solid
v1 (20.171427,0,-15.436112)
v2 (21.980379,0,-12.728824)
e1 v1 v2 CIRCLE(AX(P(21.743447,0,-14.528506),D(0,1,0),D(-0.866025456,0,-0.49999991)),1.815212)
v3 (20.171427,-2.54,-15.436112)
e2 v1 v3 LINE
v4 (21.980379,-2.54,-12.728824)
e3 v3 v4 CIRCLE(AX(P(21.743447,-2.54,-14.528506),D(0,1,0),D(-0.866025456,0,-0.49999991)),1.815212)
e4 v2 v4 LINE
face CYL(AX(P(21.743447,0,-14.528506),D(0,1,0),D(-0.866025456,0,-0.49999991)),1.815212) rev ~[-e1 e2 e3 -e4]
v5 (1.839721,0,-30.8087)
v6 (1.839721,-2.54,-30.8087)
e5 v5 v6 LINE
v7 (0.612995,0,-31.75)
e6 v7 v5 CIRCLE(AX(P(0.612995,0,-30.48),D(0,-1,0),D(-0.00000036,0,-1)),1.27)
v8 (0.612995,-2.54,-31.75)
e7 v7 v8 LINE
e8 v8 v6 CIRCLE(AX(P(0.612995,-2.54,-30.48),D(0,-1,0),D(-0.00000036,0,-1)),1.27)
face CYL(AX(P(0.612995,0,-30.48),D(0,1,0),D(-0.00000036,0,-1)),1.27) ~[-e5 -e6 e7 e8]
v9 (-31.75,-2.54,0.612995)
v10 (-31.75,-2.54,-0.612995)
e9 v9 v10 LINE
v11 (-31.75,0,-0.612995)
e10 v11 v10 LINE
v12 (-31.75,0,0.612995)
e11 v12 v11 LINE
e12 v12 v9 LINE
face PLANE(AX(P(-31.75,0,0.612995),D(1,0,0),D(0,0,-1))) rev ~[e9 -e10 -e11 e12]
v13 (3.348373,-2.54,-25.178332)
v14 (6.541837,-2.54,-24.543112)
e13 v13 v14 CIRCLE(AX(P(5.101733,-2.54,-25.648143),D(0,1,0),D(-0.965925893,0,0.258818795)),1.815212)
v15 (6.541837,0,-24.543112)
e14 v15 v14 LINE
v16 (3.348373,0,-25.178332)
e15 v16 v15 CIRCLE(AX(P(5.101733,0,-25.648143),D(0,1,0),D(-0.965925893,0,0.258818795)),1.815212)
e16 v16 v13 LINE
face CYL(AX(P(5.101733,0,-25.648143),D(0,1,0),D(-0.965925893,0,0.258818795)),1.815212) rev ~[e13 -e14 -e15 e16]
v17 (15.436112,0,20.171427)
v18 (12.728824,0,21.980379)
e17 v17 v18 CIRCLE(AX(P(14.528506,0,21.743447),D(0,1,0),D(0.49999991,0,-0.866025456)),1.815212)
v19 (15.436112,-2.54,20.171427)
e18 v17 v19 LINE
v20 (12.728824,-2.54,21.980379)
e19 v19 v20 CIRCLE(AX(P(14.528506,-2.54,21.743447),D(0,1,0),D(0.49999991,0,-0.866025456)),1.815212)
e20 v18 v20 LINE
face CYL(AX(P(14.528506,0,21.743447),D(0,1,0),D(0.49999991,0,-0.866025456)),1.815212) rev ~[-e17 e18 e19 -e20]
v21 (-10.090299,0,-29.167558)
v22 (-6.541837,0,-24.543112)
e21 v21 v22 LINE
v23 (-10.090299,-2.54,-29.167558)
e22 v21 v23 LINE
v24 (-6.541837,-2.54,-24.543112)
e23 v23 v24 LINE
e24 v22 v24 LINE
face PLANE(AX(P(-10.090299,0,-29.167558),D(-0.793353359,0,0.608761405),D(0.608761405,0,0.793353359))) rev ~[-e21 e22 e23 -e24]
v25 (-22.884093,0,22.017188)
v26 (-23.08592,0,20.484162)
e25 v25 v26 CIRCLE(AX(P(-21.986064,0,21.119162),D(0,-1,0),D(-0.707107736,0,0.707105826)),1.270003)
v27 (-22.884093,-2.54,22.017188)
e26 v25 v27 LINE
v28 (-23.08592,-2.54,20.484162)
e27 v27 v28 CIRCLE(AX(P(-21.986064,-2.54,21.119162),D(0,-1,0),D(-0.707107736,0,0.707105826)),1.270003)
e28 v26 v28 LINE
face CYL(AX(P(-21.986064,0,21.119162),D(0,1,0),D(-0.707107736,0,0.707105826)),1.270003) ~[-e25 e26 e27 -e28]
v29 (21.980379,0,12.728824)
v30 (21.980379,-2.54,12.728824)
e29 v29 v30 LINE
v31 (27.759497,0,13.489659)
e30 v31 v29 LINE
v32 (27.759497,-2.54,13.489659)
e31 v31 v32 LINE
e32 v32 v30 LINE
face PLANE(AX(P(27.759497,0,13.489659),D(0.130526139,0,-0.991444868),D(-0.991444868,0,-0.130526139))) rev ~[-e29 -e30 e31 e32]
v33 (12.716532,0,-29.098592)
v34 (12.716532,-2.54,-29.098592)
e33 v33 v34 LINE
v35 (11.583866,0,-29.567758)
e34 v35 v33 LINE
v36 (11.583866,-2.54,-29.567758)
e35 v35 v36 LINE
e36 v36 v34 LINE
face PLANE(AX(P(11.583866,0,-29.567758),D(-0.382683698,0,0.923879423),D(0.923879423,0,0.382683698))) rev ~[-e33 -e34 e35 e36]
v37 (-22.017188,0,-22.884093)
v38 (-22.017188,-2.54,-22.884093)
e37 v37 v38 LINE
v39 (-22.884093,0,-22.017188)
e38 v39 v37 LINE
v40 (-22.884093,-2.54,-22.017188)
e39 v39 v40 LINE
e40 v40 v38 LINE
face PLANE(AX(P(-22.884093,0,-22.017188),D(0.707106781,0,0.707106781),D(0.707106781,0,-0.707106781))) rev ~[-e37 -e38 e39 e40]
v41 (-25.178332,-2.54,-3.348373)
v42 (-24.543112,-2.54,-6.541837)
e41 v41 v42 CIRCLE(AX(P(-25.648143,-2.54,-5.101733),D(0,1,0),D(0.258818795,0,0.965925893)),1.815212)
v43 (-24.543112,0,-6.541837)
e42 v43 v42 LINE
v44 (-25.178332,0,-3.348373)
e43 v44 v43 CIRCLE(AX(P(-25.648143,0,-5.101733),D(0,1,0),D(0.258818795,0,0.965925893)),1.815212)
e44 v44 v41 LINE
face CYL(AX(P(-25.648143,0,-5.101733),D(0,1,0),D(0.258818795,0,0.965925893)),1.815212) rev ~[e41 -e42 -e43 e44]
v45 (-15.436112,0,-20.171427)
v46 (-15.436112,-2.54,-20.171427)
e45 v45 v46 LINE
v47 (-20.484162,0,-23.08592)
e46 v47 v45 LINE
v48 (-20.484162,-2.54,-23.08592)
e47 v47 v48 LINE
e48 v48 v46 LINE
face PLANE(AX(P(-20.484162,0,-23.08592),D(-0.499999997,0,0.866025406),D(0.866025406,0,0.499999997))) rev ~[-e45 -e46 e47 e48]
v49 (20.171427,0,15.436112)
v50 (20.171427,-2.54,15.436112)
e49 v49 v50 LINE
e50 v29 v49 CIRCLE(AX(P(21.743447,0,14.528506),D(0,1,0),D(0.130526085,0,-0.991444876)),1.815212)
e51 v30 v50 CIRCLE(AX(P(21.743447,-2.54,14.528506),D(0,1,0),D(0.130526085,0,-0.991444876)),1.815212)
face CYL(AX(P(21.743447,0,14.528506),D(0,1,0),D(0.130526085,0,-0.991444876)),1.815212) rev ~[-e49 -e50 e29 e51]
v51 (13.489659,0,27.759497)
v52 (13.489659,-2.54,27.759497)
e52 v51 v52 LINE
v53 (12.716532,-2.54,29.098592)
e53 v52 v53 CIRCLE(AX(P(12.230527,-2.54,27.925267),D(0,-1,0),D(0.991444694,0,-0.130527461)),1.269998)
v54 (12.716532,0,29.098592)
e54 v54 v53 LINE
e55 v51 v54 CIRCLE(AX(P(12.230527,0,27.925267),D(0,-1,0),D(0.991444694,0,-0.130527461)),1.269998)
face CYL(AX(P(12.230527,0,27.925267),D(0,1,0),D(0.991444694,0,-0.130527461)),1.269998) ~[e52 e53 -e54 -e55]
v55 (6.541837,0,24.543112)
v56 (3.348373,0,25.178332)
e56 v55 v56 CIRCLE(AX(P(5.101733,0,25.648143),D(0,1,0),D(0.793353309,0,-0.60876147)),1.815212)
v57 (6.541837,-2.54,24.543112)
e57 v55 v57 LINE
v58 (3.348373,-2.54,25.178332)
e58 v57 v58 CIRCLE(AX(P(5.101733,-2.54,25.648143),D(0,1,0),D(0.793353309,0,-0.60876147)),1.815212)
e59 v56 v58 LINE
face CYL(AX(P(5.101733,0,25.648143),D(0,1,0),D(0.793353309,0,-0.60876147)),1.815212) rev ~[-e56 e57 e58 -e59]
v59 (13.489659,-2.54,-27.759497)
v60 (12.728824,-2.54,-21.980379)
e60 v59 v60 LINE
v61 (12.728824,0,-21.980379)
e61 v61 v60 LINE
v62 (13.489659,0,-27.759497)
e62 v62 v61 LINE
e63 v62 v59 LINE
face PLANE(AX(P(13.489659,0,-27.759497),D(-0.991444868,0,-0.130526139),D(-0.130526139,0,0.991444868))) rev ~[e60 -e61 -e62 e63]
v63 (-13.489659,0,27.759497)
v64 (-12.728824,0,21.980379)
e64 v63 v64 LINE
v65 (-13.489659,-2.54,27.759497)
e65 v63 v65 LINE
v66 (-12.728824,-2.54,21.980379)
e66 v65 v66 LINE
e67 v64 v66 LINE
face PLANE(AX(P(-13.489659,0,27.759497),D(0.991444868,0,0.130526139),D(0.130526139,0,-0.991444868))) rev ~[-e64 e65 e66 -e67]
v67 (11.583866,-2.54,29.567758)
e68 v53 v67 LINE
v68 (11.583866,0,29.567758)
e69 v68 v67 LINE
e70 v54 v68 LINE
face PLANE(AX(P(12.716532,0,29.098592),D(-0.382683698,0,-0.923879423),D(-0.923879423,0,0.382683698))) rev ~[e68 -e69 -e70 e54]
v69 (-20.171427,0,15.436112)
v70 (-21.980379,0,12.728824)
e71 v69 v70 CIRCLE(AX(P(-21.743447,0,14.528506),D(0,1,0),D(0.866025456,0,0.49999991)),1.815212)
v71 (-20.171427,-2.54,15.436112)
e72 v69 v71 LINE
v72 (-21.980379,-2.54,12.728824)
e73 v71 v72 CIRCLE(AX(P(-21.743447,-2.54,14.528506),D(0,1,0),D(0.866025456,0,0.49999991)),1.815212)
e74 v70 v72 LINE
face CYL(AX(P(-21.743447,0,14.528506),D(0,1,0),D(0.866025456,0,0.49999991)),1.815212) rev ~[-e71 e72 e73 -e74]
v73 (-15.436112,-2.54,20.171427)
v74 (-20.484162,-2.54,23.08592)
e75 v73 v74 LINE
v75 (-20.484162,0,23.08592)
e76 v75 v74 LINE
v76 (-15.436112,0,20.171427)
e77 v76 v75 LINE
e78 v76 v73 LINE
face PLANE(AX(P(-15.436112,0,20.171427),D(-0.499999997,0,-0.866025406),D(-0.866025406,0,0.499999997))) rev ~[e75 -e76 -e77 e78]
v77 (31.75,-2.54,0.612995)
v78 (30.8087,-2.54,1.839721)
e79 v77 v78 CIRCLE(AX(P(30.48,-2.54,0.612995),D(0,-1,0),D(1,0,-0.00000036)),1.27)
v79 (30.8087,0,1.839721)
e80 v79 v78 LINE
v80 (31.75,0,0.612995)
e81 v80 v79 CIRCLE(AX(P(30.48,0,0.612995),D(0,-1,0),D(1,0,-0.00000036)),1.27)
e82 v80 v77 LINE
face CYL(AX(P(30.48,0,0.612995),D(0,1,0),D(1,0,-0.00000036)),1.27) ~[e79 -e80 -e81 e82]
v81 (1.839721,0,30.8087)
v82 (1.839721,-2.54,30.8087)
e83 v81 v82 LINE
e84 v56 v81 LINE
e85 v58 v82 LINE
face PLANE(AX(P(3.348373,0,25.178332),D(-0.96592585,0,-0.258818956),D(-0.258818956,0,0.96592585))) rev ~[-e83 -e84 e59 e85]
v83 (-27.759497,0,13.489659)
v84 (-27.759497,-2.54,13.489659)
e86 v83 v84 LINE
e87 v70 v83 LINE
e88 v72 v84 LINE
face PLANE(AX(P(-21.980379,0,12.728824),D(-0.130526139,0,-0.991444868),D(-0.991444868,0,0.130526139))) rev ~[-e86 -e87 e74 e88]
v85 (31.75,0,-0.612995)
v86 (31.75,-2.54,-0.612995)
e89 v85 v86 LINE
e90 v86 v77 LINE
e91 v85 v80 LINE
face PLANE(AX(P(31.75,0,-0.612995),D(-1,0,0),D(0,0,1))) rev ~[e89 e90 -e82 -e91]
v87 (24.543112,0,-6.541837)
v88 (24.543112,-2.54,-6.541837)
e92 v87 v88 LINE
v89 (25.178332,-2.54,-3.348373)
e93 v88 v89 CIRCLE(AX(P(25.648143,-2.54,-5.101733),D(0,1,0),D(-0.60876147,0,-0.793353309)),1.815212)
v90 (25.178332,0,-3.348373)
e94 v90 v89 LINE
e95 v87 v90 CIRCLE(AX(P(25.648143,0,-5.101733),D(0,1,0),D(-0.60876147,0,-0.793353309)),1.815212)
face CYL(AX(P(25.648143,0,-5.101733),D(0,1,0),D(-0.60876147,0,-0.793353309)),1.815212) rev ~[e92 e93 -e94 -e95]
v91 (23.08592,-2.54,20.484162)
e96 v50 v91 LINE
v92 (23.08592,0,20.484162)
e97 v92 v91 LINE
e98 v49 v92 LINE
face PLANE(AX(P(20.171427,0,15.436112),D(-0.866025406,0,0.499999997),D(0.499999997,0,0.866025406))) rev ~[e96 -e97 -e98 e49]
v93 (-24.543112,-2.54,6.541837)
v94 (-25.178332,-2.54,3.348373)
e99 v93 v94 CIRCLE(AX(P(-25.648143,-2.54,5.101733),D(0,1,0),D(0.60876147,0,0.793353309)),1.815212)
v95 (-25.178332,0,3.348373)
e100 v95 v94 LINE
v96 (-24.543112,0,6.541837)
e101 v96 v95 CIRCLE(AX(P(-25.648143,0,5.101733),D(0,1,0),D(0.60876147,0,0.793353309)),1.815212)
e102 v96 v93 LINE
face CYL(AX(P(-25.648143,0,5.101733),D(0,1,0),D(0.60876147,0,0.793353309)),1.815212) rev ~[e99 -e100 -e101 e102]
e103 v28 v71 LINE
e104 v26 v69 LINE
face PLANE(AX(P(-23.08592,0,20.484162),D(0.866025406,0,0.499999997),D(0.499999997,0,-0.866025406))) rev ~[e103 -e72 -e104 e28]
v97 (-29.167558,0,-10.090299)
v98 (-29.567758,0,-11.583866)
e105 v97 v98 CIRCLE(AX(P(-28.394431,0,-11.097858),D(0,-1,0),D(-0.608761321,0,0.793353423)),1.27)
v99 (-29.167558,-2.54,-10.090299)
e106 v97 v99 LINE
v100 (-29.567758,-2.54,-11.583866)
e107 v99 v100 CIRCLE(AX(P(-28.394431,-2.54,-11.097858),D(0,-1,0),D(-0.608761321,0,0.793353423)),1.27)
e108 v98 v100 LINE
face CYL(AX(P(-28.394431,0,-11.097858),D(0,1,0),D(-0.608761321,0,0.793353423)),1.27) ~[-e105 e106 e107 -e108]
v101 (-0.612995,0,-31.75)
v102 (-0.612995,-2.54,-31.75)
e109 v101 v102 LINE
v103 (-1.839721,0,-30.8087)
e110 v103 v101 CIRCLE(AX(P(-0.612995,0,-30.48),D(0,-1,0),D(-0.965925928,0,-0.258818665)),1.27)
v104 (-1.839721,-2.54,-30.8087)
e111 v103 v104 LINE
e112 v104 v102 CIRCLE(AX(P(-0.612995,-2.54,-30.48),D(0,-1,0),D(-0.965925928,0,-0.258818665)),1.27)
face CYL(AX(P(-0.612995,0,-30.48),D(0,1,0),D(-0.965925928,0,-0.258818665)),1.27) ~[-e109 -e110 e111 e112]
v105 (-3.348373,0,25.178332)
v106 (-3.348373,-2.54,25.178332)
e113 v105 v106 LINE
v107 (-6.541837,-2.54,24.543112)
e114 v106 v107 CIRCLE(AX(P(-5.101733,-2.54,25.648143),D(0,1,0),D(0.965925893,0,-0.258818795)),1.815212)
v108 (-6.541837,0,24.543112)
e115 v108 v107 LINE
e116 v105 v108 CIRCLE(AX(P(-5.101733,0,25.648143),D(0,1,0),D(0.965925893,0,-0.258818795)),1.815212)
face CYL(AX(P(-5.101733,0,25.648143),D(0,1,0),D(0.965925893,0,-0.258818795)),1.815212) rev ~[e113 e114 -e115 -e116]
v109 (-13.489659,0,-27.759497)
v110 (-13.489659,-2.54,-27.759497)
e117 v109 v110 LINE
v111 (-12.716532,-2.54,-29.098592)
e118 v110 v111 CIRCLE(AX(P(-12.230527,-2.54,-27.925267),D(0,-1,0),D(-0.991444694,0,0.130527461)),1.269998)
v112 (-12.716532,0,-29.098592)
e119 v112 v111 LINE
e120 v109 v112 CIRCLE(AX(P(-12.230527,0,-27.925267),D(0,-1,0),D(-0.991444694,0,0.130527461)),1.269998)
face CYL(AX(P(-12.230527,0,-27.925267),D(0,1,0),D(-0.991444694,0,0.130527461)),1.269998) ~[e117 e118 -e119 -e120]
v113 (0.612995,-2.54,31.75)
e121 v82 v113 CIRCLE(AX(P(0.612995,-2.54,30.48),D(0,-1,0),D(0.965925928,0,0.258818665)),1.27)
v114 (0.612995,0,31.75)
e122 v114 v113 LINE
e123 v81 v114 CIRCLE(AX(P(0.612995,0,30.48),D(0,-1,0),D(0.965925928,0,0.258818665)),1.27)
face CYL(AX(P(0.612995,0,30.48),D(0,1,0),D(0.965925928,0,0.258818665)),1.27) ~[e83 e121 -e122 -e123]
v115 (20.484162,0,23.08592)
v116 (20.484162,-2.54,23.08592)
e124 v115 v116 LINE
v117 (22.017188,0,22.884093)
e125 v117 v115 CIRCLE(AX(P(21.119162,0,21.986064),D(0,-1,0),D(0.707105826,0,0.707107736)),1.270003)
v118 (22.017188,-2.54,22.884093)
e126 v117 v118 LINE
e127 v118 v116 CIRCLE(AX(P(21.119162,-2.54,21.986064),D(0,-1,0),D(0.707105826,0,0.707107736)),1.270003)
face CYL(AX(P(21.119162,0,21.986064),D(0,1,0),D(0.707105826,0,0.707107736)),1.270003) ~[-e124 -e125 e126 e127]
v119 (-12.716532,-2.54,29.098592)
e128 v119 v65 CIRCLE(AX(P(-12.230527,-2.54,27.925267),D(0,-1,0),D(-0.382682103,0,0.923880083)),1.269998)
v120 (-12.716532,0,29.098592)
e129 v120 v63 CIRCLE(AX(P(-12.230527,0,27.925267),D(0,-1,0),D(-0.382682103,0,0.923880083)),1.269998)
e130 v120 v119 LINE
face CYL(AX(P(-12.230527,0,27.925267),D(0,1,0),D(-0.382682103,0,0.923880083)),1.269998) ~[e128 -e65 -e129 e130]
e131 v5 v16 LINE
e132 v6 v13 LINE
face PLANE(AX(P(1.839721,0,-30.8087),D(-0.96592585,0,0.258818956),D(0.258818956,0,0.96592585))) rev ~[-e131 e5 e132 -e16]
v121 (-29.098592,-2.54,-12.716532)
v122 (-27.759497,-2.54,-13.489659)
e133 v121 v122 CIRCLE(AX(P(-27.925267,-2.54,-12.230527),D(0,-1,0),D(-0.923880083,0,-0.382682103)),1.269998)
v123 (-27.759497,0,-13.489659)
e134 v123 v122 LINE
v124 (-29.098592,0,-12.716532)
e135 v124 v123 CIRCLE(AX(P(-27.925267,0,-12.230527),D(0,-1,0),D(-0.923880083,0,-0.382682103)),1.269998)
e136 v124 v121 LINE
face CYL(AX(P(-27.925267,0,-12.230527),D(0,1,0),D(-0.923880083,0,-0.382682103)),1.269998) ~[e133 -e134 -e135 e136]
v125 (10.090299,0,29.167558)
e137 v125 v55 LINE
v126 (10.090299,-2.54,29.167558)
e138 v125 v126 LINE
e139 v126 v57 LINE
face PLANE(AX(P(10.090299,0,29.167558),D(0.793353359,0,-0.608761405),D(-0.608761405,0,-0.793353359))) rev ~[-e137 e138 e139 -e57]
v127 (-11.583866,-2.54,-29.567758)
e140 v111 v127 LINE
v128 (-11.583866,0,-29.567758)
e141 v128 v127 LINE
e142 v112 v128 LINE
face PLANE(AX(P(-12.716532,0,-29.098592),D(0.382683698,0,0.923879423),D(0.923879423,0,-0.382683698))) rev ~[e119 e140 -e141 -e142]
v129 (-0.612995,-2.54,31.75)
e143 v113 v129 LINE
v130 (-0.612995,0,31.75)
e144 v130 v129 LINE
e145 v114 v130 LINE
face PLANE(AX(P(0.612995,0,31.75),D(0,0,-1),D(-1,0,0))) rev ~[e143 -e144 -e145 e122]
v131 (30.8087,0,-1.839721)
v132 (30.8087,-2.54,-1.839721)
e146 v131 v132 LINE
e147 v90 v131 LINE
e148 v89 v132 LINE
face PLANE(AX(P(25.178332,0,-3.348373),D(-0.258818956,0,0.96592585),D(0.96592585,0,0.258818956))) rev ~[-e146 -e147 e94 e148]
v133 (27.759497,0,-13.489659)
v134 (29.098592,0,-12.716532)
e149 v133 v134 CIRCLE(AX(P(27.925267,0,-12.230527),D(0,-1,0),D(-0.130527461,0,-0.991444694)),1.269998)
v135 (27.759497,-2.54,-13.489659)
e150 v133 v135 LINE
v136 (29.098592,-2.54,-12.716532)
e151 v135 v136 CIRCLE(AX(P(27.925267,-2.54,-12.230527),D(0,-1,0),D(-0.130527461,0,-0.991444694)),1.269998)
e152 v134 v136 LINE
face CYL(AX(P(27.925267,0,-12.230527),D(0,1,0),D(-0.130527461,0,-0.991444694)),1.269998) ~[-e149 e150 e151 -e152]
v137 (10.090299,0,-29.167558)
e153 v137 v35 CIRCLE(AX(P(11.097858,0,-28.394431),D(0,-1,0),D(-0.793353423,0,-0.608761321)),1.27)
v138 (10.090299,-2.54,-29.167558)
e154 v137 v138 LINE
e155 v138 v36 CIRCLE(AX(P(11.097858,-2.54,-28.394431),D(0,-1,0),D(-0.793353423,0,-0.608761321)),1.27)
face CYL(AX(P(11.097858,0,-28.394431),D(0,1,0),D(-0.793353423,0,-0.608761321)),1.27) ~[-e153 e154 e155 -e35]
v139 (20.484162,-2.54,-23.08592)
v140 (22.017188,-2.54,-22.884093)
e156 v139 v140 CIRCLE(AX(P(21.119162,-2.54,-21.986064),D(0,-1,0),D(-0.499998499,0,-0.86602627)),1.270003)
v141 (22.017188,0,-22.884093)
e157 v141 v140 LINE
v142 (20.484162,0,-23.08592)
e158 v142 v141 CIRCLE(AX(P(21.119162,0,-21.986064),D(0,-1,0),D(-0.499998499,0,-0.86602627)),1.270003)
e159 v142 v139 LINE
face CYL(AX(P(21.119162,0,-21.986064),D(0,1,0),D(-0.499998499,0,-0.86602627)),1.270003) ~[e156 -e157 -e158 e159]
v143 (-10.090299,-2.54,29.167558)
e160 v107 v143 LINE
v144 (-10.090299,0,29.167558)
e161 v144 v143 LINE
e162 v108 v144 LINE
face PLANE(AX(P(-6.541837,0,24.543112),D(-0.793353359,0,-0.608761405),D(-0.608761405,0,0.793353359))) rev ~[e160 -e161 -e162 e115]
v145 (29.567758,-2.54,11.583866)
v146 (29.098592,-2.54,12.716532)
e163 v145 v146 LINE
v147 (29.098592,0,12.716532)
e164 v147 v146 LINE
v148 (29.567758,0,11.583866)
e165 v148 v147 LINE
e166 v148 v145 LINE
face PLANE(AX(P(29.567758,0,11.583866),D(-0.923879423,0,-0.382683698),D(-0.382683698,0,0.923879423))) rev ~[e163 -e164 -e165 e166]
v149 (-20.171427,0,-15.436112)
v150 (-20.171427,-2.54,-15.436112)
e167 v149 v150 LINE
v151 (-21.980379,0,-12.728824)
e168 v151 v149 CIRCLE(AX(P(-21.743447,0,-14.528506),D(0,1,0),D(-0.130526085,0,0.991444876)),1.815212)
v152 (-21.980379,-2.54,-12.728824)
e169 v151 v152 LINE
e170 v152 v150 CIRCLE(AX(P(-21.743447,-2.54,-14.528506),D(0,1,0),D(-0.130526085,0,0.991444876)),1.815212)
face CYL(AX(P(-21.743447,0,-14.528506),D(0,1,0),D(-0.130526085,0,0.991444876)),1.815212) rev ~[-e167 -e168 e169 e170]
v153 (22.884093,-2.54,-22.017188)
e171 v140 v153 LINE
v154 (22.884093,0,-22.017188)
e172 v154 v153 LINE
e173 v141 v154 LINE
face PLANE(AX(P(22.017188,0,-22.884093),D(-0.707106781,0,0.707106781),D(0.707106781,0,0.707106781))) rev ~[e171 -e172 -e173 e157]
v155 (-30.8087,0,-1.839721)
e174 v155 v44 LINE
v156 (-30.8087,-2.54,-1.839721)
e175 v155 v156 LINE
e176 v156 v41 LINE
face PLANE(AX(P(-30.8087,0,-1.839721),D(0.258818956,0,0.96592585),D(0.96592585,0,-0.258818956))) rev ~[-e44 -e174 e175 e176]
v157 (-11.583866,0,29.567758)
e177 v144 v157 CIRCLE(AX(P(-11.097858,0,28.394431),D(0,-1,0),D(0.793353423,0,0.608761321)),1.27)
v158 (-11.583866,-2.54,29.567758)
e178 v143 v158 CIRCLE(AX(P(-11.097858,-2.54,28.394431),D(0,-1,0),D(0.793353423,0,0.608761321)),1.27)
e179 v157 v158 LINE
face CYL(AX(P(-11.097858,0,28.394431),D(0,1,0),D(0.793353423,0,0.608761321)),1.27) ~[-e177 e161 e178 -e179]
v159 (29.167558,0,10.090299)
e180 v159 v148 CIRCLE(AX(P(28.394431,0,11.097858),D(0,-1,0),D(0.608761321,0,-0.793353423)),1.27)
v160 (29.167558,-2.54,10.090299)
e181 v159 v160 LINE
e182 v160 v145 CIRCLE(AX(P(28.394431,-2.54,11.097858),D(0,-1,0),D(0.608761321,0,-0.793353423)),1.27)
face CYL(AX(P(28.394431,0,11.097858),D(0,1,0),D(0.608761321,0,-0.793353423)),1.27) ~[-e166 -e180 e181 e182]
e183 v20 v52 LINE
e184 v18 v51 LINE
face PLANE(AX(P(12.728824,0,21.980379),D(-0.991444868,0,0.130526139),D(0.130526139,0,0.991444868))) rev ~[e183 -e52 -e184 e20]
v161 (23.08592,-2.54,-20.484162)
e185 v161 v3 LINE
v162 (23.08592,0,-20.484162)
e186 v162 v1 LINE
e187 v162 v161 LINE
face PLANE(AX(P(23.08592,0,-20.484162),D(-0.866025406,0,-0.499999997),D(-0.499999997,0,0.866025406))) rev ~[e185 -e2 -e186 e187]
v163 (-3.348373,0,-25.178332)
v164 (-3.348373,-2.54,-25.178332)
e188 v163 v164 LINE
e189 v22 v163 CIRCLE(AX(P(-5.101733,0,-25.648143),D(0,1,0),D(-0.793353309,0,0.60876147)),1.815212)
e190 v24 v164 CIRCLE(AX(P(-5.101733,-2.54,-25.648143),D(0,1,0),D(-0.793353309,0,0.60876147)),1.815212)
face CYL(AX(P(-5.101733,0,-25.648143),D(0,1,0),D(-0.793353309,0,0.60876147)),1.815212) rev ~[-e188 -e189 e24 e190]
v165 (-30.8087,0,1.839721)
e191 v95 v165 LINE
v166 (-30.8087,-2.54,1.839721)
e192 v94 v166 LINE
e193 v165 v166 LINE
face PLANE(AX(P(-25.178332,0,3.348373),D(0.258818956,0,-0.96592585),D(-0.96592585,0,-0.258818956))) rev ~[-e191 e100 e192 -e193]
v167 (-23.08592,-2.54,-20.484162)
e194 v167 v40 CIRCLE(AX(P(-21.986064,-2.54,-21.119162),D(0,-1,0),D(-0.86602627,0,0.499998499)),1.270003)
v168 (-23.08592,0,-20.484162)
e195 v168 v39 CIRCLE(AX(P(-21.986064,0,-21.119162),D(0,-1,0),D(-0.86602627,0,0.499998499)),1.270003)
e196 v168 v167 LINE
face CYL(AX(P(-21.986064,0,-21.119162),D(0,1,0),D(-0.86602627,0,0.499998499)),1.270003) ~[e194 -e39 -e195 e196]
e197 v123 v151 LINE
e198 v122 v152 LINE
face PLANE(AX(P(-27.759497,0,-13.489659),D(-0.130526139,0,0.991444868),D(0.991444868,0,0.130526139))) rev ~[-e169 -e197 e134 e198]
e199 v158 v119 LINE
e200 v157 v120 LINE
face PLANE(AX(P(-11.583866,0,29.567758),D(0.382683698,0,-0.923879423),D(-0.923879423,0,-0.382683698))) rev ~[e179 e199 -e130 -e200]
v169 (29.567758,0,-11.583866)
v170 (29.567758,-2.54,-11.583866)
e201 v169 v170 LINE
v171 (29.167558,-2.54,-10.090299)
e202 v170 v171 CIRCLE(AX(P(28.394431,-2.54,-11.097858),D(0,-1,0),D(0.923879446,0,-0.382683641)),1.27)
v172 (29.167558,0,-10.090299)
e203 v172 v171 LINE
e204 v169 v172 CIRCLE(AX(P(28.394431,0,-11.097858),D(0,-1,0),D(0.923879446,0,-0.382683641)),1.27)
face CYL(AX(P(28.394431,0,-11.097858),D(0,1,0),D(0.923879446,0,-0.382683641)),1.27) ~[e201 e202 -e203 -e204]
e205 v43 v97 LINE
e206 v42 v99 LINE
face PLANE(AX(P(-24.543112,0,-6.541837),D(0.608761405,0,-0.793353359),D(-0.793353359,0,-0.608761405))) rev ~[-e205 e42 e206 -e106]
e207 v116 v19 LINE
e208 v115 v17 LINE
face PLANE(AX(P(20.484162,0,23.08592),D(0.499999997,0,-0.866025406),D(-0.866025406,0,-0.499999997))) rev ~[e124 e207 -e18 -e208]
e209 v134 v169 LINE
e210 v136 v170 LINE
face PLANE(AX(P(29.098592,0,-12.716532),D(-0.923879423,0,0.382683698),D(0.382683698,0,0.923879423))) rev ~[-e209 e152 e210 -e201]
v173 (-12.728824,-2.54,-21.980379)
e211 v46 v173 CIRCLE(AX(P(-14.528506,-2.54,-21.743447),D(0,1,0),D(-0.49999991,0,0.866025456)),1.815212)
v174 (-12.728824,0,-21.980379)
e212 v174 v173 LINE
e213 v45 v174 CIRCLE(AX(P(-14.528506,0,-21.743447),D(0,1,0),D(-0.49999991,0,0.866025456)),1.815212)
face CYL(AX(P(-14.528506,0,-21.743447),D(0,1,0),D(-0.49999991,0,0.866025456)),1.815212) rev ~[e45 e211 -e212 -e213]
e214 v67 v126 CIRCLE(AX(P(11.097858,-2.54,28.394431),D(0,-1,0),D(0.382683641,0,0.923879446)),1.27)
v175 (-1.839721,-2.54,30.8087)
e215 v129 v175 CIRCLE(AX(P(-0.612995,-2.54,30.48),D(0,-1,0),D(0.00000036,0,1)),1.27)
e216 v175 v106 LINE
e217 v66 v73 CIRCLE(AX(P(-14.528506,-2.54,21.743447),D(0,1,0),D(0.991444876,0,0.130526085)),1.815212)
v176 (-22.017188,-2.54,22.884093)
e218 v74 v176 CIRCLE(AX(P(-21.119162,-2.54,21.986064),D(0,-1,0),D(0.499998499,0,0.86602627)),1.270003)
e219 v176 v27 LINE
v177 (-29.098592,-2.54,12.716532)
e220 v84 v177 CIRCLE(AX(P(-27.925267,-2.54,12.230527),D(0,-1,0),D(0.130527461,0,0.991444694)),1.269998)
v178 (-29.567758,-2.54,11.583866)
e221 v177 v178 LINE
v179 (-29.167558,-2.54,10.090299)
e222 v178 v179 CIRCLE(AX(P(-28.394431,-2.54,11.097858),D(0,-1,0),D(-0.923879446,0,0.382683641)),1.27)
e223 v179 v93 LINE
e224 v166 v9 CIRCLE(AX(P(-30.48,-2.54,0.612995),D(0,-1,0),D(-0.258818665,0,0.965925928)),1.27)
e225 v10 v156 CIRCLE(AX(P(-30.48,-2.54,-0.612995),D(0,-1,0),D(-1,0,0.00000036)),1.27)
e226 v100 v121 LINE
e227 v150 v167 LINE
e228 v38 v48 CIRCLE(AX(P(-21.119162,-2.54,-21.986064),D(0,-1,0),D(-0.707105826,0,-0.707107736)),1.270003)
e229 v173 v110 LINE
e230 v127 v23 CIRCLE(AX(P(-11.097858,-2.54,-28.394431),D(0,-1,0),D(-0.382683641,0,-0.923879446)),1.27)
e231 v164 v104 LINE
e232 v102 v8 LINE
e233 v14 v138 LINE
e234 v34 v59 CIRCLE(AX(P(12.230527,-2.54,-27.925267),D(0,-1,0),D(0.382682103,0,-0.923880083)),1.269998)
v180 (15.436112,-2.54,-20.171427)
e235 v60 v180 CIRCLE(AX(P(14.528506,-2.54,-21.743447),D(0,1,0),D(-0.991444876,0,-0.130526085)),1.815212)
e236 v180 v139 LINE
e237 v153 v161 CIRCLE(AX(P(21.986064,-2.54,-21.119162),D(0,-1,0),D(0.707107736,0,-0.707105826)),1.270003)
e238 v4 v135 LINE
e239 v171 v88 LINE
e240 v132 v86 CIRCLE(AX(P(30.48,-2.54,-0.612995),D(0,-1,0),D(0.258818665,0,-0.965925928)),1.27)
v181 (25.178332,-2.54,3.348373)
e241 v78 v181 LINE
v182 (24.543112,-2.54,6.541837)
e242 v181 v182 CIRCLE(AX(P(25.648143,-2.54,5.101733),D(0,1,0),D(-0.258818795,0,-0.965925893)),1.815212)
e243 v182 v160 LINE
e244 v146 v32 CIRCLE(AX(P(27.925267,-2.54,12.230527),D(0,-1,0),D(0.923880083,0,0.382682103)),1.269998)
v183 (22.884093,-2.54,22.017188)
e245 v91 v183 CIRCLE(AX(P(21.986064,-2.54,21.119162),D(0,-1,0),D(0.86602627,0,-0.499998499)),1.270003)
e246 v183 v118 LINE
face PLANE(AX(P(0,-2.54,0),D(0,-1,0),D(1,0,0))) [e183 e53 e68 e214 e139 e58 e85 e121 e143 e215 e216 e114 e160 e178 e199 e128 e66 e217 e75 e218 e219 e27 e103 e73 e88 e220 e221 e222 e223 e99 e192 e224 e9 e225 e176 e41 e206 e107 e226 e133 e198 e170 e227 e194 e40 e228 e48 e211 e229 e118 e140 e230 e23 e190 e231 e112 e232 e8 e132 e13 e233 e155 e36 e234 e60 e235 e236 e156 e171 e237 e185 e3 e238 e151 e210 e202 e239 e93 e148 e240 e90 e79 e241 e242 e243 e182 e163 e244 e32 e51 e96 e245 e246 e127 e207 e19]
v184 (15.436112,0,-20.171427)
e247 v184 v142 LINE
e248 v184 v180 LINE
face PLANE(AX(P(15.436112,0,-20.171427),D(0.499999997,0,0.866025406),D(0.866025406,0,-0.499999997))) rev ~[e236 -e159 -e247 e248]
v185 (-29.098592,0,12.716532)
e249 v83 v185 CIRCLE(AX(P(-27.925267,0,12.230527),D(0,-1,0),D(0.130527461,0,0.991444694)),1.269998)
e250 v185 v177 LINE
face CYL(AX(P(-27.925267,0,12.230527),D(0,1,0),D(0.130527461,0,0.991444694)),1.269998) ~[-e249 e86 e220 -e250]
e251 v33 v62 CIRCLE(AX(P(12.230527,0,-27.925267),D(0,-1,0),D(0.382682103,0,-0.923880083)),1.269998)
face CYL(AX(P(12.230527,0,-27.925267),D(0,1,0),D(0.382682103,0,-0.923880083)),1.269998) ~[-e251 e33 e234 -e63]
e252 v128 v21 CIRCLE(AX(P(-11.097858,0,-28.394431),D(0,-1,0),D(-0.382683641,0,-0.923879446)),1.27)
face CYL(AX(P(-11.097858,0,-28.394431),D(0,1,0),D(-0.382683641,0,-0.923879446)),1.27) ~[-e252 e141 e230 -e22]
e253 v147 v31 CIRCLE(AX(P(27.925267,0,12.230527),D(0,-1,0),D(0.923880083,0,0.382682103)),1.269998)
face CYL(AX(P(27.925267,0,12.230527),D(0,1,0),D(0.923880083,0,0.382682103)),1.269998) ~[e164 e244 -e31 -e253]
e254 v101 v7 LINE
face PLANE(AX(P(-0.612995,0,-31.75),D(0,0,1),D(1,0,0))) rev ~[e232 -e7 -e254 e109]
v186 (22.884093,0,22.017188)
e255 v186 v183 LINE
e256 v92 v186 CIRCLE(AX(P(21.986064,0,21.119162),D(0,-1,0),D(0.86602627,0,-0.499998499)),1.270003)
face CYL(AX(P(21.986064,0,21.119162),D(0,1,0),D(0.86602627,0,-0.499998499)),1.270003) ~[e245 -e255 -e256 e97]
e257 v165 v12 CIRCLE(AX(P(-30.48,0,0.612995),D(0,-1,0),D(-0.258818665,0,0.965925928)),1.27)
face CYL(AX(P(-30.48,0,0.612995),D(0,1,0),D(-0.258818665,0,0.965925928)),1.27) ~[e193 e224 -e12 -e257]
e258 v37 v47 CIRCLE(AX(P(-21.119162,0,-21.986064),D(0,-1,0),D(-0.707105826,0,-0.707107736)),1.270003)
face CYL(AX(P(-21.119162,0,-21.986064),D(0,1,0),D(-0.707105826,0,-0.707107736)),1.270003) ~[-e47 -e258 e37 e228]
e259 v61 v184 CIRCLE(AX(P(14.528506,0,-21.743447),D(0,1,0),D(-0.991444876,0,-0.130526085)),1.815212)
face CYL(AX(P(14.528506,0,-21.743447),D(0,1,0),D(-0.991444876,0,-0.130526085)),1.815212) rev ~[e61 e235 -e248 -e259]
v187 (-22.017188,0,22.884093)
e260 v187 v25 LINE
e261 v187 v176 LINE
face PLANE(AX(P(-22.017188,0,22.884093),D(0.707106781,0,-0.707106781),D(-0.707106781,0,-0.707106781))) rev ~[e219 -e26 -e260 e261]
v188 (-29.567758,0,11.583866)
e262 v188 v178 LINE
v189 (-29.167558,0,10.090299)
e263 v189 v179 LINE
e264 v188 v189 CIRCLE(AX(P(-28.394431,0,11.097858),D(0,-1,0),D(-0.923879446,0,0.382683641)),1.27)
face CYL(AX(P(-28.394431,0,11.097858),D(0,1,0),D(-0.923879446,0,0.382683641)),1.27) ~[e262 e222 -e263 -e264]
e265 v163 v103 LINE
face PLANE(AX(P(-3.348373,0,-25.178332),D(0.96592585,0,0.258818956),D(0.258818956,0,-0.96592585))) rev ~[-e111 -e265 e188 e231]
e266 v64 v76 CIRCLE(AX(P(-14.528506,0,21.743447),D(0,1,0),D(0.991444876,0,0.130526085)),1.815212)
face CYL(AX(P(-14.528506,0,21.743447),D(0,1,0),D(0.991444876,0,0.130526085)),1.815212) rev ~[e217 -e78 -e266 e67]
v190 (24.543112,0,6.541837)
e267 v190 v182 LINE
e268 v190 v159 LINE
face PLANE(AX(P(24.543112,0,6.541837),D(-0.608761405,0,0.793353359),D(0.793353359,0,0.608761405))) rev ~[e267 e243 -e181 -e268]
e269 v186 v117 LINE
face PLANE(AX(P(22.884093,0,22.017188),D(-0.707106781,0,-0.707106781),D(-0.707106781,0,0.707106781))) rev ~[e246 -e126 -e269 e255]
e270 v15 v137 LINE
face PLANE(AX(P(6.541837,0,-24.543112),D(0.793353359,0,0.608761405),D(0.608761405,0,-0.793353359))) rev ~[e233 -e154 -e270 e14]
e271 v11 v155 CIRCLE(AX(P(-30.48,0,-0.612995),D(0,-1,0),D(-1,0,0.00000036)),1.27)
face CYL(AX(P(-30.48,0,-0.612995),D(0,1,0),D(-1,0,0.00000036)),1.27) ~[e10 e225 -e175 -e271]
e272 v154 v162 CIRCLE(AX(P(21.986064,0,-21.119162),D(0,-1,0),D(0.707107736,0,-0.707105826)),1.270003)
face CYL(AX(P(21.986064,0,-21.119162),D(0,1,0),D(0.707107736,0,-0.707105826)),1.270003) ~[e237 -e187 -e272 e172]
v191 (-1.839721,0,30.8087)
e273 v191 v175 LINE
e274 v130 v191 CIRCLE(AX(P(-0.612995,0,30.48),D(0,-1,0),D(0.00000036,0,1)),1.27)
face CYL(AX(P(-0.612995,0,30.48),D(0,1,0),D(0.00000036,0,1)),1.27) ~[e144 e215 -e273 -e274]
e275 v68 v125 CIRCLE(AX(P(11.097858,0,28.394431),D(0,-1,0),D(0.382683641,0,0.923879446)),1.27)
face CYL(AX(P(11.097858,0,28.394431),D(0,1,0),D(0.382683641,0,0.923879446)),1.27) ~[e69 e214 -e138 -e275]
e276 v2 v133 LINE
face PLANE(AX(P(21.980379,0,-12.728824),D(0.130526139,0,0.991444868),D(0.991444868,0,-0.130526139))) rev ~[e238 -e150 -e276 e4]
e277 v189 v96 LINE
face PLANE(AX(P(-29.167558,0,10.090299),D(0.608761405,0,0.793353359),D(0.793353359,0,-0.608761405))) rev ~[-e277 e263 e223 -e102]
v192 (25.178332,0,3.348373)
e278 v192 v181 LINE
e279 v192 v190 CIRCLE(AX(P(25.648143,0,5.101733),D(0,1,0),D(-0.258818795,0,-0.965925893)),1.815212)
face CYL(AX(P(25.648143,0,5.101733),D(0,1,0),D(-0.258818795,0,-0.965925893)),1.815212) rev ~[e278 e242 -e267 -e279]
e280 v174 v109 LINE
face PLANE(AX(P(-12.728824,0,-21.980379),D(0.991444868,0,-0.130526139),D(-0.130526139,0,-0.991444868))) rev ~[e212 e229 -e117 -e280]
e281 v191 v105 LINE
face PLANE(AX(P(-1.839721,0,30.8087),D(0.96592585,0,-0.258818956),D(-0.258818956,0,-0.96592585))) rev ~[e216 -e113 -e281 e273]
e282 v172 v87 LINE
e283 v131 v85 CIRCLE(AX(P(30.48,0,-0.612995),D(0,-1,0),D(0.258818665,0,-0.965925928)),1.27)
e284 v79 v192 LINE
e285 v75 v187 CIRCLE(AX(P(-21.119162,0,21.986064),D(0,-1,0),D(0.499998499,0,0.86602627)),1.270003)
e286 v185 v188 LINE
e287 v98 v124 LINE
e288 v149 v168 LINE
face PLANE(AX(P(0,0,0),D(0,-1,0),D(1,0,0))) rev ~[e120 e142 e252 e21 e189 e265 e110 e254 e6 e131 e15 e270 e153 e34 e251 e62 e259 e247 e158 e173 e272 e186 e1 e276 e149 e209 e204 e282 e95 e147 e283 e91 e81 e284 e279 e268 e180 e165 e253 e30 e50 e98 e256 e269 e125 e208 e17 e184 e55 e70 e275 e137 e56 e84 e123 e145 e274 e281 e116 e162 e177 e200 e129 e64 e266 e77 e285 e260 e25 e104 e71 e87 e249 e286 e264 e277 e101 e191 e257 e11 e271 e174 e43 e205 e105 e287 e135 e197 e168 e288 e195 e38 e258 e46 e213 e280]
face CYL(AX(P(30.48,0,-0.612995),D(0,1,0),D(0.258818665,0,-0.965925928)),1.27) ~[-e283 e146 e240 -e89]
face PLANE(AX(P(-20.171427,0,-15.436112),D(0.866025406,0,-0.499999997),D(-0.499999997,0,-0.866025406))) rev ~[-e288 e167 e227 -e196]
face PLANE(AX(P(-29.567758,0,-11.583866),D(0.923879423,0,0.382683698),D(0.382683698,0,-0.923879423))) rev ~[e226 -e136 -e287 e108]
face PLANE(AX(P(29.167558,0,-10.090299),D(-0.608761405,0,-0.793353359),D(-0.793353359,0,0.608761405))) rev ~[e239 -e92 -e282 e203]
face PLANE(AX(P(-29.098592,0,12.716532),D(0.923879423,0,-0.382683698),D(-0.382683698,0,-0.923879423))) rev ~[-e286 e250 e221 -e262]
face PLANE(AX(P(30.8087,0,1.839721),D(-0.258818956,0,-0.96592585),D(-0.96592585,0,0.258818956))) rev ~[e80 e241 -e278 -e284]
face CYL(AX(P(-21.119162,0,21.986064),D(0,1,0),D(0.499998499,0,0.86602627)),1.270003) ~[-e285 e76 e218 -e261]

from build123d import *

# Parameters (mm, degrees)
F1_DEPTH = 2.54


with BuildPart() as f1:
    # F0 (on Front) → F1 (new body)
    with BuildSketch(Plane.XZ):
        with BuildLine():
            Line((0.612995, 31.75), (-0.612995, 31.75))
            ThreePointArc((-0.612995, 31.75), (-1.386122, 31.487559), (-1.839721, 30.8087))
            Line((-1.839721, 30.8087), (-3.348373, 25.178332))
            ThreePointArc((-3.348373, 25.178332), (-4.747603, 23.86781), (-6.541837, 24.543112))
            Line((-6.541837, 24.543112), (-10.090299, 29.167558))
            ThreePointArc((-10.090299, 29.167558), (-10.769158, 29.621157), (-11.583866, 29.567758))
            Line((-11.583866, 29.567758), (-12.716532, 29.098592))
            ThreePointArc((-12.716532, 29.098592), (-13.330377, 28.560265), (-13.489659, 27.759497))
            Line((-13.489659, 27.759497), (-12.728824, 21.980379))
            ThreePointArc((-12.728824, 21.980379), (-13.520029, 20.234153), (-15.436112, 20.171427))
            Line((-15.436112, 20.171427), (-20.484162, 23.08592))
            ThreePointArc((-20.484162, 23.08592), (-21.28493, 23.245202), (-22.017188, 22.884093))
            Line((-22.017188, 22.884093), (-22.884093, 22.017188))
            ThreePointArc((-22.884093, 22.017188), (-23.245202, 21.28493), (-23.08592, 20.484162))
            Line((-23.08592, 20.484162), (-20.171427, 15.436112))
            ThreePointArc((-20.171427, 15.436112), (-20.234153, 13.520029), (-21.980379, 12.728824))
            Line((-21.980379, 12.728824), (-27.759497, 13.489659))
            ThreePointArc((-27.759497, 13.489659), (-28.560265, 13.330377), (-29.098592, 12.716532))
            Line((-29.098592, 12.716532), (-29.567758, 11.583866))
            ThreePointArc((-29.567758, 11.583866), (-29.621157, 10.769158), (-29.167558, 10.090299))
            Line((-29.167558, 10.090299), (-24.543112, 6.541837))
            ThreePointArc((-24.543112, 6.541837), (-23.86781, 4.747603), (-25.178332, 3.348373))
            Line((-25.178332, 3.348373), (-30.8087, 1.839721))
            ThreePointArc((-30.8087, 1.839721), (-31.487559, 1.386122), (-31.75, 0.612995))
            Line((-31.75, 0.612995), (-31.75, -0.612995))
            ThreePointArc((-31.75, -0.612995), (-31.487559, -1.386122), (-30.8087, -1.839721))
            Line((-30.8087, -1.839721), (-25.178332, -3.348373))
            ThreePointArc((-25.178332, -3.348373), (-23.86781, -4.747603), (-24.543112, -6.541837))
            Line((-24.543112, -6.541837), (-29.167558, -10.090299))
            ThreePointArc((-29.167558, -10.090299), (-29.621157, -10.769158), (-29.567758, -11.583866))
            Line((-29.567758, -11.583866), (-29.098592, -12.716532))
            ThreePointArc((-29.098592, -12.716532), (-28.560265, -13.330377), (-27.759497, -13.489659))
            Line((-27.759497, -13.489659), (-21.980379, -12.728824))
            ThreePointArc((-21.980379, -12.728824), (-20.234153, -13.520029), (-20.171427, -15.436112))
            Line((-20.171427, -15.436112), (-23.08592, -20.484162))
            ThreePointArc((-23.08592, -20.484162), (-23.245202, -21.28493), (-22.884093, -22.017188))
            Line((-22.884093, -22.017188), (-22.017188, -22.884093))
            ThreePointArc((-22.017188, -22.884093), (-21.28493, -23.245202), (-20.484162, -23.08592))
            Line((-20.484162, -23.08592), (-15.436112, -20.171427))
            ThreePointArc((-15.436112, -20.171427), (-13.520029, -20.234153), (-12.728824, -21.980379))
            Line((-12.728824, -21.980379), (-13.489659, -27.759497))
            ThreePointArc((-13.489659, -27.759497), (-13.330377, -28.560265), (-12.716532, -29.098592))
            Line((-12.716532, -29.098592), (-11.583866, -29.567758))
            ThreePointArc((-11.583866, -29.567758), (-10.769158, -29.621157), (-10.090299, -29.167558))
            Line((-10.090299, -29.167558), (-6.541837, -24.543112))
            ThreePointArc((-6.541837, -24.543112), (-4.747603, -23.86781), (-3.348373, -25.178332))
            Line((-3.348373, -25.178332), (-1.839721, -30.8087))
            ThreePointArc((-1.839721, -30.8087), (-1.386122, -31.487559), (-0.612995, -31.75))
            Line((-0.612995, -31.75), (0.612995, -31.75))
            ThreePointArc((0.612995, -31.75), (1.386122, -31.487559), (1.839721, -30.8087))
            Line((1.839721, -30.8087), (3.348373, -25.178332))
            ThreePointArc((3.348373, -25.178332), (4.747603, -23.86781), (6.541837, -24.543112))
            Line((6.541837, -24.543112), (10.090299, -29.167558))
            ThreePointArc((10.090299, -29.167558), (10.769158, -29.621157), (11.583866, -29.567758))
            Line((11.583866, -29.567758), (12.716532, -29.098592))
            ThreePointArc((12.716532, -29.098592), (13.330377, -28.560265), (13.489659, -27.759497))
            Line((13.489659, -27.759497), (12.728824, -21.980379))
            ThreePointArc((12.728824, -21.980379), (13.520029, -20.234153), (15.436112, -20.171427))
            Line((15.436112, -20.171427), (20.484162, -23.08592))
            ThreePointArc((20.484162, -23.08592), (21.28493, -23.245202), (22.017188, -22.884093))
            Line((22.017188, -22.884093), (22.884093, -22.017188))
            ThreePointArc((22.884093, -22.017188), (23.245202, -21.28493), (23.08592, -20.484162))
            Line((23.08592, -20.484162), (20.171427, -15.436112))
            ThreePointArc((20.171427, -15.436112), (20.234153, -13.520029), (21.980379, -12.728824))
            Line((21.980379, -12.728824), (27.759497, -13.489659))
            ThreePointArc((27.759497, -13.489659), (28.560265, -13.330377), (29.098592, -12.716532))
            Line((29.098592, -12.716532), (29.567758, -11.583866))
            ThreePointArc((29.567758, -11.583866), (29.621157, -10.769158), (29.167558, -10.090299))
            Line((29.167558, -10.090299), (24.543112, -6.541837))
            ThreePointArc((24.543112, -6.541837), (23.86781, -4.747603), (25.178332, -3.348373))
            Line((25.178332, -3.348373), (30.8087, -1.839721))
            ThreePointArc((30.8087, -1.839721), (31.487559, -1.386122), (31.75, -0.612995))
            Line((31.75, -0.612995), (31.75, 0.612995))
            ThreePointArc((31.75, 0.612995), (31.487559, 1.386122), (30.8087, 1.839721))
            Line((30.8087, 1.839721), (25.178332, 3.348373))
            ThreePointArc((25.178332, 3.348373), (23.86781, 4.747603), (24.543112, 6.541837))
            Line((24.543112, 6.541837), (29.167558, 10.090299))
            ThreePointArc((29.167558, 10.090299), (29.621157, 10.769158), (29.567758, 11.583866))
            Line((29.567758, 11.583866), (29.098592, 12.716532))
            ThreePointArc((29.098592, 12.716532), (28.560265, 13.330377), (27.759497, 13.489659))
            Line((27.759497, 13.489659), (21.980379, 12.728824))
            ThreePointArc((21.980379, 12.728824), (20.234153, 13.520029), (20.171427, 15.436112))
            Line((20.171427, 15.436112), (23.08592, 20.484162))
            ThreePointArc((23.08592, 20.484162), (23.245202, 21.28493), (22.884093, 22.017188))
            Line((22.884093, 22.017188), (22.017188, 22.884093))
            ThreePointArc((22.017188, 22.884093), (21.28493, 23.245202), (20.484162, 23.08592))
            Line((20.484162, 23.08592), (15.436112, 20.171427))
            ThreePointArc((15.436112, 20.171427), (13.520029, 20.234153), (12.728824, 21.980379))
            Line((12.728824, 21.980379), (13.489659, 27.759497))
            ThreePointArc((13.489659, 27.759497), (13.330377, 28.560265), (12.716532, 29.098592))
            Line((12.716532, 29.098592), (11.583866, 29.567758))
            ThreePointArc((11.583866, 29.567758), (10.769158, 29.621157), (10.090299, 29.167558))
            Line((10.090299, 29.167558), (6.541837, 24.543112))
            ThreePointArc((6.541837, 24.543112), (4.747603, 23.86781), (3.348373, 25.178332))
            Line((3.348373, 25.178332), (1.839721, 30.8087))
            ThreePointArc((1.839721, 30.8087), (1.386122, 31.487559), (0.612995, 31.75))
        make_face()
    extrude(amount=F1_DEPTH)


solid = f1.part
